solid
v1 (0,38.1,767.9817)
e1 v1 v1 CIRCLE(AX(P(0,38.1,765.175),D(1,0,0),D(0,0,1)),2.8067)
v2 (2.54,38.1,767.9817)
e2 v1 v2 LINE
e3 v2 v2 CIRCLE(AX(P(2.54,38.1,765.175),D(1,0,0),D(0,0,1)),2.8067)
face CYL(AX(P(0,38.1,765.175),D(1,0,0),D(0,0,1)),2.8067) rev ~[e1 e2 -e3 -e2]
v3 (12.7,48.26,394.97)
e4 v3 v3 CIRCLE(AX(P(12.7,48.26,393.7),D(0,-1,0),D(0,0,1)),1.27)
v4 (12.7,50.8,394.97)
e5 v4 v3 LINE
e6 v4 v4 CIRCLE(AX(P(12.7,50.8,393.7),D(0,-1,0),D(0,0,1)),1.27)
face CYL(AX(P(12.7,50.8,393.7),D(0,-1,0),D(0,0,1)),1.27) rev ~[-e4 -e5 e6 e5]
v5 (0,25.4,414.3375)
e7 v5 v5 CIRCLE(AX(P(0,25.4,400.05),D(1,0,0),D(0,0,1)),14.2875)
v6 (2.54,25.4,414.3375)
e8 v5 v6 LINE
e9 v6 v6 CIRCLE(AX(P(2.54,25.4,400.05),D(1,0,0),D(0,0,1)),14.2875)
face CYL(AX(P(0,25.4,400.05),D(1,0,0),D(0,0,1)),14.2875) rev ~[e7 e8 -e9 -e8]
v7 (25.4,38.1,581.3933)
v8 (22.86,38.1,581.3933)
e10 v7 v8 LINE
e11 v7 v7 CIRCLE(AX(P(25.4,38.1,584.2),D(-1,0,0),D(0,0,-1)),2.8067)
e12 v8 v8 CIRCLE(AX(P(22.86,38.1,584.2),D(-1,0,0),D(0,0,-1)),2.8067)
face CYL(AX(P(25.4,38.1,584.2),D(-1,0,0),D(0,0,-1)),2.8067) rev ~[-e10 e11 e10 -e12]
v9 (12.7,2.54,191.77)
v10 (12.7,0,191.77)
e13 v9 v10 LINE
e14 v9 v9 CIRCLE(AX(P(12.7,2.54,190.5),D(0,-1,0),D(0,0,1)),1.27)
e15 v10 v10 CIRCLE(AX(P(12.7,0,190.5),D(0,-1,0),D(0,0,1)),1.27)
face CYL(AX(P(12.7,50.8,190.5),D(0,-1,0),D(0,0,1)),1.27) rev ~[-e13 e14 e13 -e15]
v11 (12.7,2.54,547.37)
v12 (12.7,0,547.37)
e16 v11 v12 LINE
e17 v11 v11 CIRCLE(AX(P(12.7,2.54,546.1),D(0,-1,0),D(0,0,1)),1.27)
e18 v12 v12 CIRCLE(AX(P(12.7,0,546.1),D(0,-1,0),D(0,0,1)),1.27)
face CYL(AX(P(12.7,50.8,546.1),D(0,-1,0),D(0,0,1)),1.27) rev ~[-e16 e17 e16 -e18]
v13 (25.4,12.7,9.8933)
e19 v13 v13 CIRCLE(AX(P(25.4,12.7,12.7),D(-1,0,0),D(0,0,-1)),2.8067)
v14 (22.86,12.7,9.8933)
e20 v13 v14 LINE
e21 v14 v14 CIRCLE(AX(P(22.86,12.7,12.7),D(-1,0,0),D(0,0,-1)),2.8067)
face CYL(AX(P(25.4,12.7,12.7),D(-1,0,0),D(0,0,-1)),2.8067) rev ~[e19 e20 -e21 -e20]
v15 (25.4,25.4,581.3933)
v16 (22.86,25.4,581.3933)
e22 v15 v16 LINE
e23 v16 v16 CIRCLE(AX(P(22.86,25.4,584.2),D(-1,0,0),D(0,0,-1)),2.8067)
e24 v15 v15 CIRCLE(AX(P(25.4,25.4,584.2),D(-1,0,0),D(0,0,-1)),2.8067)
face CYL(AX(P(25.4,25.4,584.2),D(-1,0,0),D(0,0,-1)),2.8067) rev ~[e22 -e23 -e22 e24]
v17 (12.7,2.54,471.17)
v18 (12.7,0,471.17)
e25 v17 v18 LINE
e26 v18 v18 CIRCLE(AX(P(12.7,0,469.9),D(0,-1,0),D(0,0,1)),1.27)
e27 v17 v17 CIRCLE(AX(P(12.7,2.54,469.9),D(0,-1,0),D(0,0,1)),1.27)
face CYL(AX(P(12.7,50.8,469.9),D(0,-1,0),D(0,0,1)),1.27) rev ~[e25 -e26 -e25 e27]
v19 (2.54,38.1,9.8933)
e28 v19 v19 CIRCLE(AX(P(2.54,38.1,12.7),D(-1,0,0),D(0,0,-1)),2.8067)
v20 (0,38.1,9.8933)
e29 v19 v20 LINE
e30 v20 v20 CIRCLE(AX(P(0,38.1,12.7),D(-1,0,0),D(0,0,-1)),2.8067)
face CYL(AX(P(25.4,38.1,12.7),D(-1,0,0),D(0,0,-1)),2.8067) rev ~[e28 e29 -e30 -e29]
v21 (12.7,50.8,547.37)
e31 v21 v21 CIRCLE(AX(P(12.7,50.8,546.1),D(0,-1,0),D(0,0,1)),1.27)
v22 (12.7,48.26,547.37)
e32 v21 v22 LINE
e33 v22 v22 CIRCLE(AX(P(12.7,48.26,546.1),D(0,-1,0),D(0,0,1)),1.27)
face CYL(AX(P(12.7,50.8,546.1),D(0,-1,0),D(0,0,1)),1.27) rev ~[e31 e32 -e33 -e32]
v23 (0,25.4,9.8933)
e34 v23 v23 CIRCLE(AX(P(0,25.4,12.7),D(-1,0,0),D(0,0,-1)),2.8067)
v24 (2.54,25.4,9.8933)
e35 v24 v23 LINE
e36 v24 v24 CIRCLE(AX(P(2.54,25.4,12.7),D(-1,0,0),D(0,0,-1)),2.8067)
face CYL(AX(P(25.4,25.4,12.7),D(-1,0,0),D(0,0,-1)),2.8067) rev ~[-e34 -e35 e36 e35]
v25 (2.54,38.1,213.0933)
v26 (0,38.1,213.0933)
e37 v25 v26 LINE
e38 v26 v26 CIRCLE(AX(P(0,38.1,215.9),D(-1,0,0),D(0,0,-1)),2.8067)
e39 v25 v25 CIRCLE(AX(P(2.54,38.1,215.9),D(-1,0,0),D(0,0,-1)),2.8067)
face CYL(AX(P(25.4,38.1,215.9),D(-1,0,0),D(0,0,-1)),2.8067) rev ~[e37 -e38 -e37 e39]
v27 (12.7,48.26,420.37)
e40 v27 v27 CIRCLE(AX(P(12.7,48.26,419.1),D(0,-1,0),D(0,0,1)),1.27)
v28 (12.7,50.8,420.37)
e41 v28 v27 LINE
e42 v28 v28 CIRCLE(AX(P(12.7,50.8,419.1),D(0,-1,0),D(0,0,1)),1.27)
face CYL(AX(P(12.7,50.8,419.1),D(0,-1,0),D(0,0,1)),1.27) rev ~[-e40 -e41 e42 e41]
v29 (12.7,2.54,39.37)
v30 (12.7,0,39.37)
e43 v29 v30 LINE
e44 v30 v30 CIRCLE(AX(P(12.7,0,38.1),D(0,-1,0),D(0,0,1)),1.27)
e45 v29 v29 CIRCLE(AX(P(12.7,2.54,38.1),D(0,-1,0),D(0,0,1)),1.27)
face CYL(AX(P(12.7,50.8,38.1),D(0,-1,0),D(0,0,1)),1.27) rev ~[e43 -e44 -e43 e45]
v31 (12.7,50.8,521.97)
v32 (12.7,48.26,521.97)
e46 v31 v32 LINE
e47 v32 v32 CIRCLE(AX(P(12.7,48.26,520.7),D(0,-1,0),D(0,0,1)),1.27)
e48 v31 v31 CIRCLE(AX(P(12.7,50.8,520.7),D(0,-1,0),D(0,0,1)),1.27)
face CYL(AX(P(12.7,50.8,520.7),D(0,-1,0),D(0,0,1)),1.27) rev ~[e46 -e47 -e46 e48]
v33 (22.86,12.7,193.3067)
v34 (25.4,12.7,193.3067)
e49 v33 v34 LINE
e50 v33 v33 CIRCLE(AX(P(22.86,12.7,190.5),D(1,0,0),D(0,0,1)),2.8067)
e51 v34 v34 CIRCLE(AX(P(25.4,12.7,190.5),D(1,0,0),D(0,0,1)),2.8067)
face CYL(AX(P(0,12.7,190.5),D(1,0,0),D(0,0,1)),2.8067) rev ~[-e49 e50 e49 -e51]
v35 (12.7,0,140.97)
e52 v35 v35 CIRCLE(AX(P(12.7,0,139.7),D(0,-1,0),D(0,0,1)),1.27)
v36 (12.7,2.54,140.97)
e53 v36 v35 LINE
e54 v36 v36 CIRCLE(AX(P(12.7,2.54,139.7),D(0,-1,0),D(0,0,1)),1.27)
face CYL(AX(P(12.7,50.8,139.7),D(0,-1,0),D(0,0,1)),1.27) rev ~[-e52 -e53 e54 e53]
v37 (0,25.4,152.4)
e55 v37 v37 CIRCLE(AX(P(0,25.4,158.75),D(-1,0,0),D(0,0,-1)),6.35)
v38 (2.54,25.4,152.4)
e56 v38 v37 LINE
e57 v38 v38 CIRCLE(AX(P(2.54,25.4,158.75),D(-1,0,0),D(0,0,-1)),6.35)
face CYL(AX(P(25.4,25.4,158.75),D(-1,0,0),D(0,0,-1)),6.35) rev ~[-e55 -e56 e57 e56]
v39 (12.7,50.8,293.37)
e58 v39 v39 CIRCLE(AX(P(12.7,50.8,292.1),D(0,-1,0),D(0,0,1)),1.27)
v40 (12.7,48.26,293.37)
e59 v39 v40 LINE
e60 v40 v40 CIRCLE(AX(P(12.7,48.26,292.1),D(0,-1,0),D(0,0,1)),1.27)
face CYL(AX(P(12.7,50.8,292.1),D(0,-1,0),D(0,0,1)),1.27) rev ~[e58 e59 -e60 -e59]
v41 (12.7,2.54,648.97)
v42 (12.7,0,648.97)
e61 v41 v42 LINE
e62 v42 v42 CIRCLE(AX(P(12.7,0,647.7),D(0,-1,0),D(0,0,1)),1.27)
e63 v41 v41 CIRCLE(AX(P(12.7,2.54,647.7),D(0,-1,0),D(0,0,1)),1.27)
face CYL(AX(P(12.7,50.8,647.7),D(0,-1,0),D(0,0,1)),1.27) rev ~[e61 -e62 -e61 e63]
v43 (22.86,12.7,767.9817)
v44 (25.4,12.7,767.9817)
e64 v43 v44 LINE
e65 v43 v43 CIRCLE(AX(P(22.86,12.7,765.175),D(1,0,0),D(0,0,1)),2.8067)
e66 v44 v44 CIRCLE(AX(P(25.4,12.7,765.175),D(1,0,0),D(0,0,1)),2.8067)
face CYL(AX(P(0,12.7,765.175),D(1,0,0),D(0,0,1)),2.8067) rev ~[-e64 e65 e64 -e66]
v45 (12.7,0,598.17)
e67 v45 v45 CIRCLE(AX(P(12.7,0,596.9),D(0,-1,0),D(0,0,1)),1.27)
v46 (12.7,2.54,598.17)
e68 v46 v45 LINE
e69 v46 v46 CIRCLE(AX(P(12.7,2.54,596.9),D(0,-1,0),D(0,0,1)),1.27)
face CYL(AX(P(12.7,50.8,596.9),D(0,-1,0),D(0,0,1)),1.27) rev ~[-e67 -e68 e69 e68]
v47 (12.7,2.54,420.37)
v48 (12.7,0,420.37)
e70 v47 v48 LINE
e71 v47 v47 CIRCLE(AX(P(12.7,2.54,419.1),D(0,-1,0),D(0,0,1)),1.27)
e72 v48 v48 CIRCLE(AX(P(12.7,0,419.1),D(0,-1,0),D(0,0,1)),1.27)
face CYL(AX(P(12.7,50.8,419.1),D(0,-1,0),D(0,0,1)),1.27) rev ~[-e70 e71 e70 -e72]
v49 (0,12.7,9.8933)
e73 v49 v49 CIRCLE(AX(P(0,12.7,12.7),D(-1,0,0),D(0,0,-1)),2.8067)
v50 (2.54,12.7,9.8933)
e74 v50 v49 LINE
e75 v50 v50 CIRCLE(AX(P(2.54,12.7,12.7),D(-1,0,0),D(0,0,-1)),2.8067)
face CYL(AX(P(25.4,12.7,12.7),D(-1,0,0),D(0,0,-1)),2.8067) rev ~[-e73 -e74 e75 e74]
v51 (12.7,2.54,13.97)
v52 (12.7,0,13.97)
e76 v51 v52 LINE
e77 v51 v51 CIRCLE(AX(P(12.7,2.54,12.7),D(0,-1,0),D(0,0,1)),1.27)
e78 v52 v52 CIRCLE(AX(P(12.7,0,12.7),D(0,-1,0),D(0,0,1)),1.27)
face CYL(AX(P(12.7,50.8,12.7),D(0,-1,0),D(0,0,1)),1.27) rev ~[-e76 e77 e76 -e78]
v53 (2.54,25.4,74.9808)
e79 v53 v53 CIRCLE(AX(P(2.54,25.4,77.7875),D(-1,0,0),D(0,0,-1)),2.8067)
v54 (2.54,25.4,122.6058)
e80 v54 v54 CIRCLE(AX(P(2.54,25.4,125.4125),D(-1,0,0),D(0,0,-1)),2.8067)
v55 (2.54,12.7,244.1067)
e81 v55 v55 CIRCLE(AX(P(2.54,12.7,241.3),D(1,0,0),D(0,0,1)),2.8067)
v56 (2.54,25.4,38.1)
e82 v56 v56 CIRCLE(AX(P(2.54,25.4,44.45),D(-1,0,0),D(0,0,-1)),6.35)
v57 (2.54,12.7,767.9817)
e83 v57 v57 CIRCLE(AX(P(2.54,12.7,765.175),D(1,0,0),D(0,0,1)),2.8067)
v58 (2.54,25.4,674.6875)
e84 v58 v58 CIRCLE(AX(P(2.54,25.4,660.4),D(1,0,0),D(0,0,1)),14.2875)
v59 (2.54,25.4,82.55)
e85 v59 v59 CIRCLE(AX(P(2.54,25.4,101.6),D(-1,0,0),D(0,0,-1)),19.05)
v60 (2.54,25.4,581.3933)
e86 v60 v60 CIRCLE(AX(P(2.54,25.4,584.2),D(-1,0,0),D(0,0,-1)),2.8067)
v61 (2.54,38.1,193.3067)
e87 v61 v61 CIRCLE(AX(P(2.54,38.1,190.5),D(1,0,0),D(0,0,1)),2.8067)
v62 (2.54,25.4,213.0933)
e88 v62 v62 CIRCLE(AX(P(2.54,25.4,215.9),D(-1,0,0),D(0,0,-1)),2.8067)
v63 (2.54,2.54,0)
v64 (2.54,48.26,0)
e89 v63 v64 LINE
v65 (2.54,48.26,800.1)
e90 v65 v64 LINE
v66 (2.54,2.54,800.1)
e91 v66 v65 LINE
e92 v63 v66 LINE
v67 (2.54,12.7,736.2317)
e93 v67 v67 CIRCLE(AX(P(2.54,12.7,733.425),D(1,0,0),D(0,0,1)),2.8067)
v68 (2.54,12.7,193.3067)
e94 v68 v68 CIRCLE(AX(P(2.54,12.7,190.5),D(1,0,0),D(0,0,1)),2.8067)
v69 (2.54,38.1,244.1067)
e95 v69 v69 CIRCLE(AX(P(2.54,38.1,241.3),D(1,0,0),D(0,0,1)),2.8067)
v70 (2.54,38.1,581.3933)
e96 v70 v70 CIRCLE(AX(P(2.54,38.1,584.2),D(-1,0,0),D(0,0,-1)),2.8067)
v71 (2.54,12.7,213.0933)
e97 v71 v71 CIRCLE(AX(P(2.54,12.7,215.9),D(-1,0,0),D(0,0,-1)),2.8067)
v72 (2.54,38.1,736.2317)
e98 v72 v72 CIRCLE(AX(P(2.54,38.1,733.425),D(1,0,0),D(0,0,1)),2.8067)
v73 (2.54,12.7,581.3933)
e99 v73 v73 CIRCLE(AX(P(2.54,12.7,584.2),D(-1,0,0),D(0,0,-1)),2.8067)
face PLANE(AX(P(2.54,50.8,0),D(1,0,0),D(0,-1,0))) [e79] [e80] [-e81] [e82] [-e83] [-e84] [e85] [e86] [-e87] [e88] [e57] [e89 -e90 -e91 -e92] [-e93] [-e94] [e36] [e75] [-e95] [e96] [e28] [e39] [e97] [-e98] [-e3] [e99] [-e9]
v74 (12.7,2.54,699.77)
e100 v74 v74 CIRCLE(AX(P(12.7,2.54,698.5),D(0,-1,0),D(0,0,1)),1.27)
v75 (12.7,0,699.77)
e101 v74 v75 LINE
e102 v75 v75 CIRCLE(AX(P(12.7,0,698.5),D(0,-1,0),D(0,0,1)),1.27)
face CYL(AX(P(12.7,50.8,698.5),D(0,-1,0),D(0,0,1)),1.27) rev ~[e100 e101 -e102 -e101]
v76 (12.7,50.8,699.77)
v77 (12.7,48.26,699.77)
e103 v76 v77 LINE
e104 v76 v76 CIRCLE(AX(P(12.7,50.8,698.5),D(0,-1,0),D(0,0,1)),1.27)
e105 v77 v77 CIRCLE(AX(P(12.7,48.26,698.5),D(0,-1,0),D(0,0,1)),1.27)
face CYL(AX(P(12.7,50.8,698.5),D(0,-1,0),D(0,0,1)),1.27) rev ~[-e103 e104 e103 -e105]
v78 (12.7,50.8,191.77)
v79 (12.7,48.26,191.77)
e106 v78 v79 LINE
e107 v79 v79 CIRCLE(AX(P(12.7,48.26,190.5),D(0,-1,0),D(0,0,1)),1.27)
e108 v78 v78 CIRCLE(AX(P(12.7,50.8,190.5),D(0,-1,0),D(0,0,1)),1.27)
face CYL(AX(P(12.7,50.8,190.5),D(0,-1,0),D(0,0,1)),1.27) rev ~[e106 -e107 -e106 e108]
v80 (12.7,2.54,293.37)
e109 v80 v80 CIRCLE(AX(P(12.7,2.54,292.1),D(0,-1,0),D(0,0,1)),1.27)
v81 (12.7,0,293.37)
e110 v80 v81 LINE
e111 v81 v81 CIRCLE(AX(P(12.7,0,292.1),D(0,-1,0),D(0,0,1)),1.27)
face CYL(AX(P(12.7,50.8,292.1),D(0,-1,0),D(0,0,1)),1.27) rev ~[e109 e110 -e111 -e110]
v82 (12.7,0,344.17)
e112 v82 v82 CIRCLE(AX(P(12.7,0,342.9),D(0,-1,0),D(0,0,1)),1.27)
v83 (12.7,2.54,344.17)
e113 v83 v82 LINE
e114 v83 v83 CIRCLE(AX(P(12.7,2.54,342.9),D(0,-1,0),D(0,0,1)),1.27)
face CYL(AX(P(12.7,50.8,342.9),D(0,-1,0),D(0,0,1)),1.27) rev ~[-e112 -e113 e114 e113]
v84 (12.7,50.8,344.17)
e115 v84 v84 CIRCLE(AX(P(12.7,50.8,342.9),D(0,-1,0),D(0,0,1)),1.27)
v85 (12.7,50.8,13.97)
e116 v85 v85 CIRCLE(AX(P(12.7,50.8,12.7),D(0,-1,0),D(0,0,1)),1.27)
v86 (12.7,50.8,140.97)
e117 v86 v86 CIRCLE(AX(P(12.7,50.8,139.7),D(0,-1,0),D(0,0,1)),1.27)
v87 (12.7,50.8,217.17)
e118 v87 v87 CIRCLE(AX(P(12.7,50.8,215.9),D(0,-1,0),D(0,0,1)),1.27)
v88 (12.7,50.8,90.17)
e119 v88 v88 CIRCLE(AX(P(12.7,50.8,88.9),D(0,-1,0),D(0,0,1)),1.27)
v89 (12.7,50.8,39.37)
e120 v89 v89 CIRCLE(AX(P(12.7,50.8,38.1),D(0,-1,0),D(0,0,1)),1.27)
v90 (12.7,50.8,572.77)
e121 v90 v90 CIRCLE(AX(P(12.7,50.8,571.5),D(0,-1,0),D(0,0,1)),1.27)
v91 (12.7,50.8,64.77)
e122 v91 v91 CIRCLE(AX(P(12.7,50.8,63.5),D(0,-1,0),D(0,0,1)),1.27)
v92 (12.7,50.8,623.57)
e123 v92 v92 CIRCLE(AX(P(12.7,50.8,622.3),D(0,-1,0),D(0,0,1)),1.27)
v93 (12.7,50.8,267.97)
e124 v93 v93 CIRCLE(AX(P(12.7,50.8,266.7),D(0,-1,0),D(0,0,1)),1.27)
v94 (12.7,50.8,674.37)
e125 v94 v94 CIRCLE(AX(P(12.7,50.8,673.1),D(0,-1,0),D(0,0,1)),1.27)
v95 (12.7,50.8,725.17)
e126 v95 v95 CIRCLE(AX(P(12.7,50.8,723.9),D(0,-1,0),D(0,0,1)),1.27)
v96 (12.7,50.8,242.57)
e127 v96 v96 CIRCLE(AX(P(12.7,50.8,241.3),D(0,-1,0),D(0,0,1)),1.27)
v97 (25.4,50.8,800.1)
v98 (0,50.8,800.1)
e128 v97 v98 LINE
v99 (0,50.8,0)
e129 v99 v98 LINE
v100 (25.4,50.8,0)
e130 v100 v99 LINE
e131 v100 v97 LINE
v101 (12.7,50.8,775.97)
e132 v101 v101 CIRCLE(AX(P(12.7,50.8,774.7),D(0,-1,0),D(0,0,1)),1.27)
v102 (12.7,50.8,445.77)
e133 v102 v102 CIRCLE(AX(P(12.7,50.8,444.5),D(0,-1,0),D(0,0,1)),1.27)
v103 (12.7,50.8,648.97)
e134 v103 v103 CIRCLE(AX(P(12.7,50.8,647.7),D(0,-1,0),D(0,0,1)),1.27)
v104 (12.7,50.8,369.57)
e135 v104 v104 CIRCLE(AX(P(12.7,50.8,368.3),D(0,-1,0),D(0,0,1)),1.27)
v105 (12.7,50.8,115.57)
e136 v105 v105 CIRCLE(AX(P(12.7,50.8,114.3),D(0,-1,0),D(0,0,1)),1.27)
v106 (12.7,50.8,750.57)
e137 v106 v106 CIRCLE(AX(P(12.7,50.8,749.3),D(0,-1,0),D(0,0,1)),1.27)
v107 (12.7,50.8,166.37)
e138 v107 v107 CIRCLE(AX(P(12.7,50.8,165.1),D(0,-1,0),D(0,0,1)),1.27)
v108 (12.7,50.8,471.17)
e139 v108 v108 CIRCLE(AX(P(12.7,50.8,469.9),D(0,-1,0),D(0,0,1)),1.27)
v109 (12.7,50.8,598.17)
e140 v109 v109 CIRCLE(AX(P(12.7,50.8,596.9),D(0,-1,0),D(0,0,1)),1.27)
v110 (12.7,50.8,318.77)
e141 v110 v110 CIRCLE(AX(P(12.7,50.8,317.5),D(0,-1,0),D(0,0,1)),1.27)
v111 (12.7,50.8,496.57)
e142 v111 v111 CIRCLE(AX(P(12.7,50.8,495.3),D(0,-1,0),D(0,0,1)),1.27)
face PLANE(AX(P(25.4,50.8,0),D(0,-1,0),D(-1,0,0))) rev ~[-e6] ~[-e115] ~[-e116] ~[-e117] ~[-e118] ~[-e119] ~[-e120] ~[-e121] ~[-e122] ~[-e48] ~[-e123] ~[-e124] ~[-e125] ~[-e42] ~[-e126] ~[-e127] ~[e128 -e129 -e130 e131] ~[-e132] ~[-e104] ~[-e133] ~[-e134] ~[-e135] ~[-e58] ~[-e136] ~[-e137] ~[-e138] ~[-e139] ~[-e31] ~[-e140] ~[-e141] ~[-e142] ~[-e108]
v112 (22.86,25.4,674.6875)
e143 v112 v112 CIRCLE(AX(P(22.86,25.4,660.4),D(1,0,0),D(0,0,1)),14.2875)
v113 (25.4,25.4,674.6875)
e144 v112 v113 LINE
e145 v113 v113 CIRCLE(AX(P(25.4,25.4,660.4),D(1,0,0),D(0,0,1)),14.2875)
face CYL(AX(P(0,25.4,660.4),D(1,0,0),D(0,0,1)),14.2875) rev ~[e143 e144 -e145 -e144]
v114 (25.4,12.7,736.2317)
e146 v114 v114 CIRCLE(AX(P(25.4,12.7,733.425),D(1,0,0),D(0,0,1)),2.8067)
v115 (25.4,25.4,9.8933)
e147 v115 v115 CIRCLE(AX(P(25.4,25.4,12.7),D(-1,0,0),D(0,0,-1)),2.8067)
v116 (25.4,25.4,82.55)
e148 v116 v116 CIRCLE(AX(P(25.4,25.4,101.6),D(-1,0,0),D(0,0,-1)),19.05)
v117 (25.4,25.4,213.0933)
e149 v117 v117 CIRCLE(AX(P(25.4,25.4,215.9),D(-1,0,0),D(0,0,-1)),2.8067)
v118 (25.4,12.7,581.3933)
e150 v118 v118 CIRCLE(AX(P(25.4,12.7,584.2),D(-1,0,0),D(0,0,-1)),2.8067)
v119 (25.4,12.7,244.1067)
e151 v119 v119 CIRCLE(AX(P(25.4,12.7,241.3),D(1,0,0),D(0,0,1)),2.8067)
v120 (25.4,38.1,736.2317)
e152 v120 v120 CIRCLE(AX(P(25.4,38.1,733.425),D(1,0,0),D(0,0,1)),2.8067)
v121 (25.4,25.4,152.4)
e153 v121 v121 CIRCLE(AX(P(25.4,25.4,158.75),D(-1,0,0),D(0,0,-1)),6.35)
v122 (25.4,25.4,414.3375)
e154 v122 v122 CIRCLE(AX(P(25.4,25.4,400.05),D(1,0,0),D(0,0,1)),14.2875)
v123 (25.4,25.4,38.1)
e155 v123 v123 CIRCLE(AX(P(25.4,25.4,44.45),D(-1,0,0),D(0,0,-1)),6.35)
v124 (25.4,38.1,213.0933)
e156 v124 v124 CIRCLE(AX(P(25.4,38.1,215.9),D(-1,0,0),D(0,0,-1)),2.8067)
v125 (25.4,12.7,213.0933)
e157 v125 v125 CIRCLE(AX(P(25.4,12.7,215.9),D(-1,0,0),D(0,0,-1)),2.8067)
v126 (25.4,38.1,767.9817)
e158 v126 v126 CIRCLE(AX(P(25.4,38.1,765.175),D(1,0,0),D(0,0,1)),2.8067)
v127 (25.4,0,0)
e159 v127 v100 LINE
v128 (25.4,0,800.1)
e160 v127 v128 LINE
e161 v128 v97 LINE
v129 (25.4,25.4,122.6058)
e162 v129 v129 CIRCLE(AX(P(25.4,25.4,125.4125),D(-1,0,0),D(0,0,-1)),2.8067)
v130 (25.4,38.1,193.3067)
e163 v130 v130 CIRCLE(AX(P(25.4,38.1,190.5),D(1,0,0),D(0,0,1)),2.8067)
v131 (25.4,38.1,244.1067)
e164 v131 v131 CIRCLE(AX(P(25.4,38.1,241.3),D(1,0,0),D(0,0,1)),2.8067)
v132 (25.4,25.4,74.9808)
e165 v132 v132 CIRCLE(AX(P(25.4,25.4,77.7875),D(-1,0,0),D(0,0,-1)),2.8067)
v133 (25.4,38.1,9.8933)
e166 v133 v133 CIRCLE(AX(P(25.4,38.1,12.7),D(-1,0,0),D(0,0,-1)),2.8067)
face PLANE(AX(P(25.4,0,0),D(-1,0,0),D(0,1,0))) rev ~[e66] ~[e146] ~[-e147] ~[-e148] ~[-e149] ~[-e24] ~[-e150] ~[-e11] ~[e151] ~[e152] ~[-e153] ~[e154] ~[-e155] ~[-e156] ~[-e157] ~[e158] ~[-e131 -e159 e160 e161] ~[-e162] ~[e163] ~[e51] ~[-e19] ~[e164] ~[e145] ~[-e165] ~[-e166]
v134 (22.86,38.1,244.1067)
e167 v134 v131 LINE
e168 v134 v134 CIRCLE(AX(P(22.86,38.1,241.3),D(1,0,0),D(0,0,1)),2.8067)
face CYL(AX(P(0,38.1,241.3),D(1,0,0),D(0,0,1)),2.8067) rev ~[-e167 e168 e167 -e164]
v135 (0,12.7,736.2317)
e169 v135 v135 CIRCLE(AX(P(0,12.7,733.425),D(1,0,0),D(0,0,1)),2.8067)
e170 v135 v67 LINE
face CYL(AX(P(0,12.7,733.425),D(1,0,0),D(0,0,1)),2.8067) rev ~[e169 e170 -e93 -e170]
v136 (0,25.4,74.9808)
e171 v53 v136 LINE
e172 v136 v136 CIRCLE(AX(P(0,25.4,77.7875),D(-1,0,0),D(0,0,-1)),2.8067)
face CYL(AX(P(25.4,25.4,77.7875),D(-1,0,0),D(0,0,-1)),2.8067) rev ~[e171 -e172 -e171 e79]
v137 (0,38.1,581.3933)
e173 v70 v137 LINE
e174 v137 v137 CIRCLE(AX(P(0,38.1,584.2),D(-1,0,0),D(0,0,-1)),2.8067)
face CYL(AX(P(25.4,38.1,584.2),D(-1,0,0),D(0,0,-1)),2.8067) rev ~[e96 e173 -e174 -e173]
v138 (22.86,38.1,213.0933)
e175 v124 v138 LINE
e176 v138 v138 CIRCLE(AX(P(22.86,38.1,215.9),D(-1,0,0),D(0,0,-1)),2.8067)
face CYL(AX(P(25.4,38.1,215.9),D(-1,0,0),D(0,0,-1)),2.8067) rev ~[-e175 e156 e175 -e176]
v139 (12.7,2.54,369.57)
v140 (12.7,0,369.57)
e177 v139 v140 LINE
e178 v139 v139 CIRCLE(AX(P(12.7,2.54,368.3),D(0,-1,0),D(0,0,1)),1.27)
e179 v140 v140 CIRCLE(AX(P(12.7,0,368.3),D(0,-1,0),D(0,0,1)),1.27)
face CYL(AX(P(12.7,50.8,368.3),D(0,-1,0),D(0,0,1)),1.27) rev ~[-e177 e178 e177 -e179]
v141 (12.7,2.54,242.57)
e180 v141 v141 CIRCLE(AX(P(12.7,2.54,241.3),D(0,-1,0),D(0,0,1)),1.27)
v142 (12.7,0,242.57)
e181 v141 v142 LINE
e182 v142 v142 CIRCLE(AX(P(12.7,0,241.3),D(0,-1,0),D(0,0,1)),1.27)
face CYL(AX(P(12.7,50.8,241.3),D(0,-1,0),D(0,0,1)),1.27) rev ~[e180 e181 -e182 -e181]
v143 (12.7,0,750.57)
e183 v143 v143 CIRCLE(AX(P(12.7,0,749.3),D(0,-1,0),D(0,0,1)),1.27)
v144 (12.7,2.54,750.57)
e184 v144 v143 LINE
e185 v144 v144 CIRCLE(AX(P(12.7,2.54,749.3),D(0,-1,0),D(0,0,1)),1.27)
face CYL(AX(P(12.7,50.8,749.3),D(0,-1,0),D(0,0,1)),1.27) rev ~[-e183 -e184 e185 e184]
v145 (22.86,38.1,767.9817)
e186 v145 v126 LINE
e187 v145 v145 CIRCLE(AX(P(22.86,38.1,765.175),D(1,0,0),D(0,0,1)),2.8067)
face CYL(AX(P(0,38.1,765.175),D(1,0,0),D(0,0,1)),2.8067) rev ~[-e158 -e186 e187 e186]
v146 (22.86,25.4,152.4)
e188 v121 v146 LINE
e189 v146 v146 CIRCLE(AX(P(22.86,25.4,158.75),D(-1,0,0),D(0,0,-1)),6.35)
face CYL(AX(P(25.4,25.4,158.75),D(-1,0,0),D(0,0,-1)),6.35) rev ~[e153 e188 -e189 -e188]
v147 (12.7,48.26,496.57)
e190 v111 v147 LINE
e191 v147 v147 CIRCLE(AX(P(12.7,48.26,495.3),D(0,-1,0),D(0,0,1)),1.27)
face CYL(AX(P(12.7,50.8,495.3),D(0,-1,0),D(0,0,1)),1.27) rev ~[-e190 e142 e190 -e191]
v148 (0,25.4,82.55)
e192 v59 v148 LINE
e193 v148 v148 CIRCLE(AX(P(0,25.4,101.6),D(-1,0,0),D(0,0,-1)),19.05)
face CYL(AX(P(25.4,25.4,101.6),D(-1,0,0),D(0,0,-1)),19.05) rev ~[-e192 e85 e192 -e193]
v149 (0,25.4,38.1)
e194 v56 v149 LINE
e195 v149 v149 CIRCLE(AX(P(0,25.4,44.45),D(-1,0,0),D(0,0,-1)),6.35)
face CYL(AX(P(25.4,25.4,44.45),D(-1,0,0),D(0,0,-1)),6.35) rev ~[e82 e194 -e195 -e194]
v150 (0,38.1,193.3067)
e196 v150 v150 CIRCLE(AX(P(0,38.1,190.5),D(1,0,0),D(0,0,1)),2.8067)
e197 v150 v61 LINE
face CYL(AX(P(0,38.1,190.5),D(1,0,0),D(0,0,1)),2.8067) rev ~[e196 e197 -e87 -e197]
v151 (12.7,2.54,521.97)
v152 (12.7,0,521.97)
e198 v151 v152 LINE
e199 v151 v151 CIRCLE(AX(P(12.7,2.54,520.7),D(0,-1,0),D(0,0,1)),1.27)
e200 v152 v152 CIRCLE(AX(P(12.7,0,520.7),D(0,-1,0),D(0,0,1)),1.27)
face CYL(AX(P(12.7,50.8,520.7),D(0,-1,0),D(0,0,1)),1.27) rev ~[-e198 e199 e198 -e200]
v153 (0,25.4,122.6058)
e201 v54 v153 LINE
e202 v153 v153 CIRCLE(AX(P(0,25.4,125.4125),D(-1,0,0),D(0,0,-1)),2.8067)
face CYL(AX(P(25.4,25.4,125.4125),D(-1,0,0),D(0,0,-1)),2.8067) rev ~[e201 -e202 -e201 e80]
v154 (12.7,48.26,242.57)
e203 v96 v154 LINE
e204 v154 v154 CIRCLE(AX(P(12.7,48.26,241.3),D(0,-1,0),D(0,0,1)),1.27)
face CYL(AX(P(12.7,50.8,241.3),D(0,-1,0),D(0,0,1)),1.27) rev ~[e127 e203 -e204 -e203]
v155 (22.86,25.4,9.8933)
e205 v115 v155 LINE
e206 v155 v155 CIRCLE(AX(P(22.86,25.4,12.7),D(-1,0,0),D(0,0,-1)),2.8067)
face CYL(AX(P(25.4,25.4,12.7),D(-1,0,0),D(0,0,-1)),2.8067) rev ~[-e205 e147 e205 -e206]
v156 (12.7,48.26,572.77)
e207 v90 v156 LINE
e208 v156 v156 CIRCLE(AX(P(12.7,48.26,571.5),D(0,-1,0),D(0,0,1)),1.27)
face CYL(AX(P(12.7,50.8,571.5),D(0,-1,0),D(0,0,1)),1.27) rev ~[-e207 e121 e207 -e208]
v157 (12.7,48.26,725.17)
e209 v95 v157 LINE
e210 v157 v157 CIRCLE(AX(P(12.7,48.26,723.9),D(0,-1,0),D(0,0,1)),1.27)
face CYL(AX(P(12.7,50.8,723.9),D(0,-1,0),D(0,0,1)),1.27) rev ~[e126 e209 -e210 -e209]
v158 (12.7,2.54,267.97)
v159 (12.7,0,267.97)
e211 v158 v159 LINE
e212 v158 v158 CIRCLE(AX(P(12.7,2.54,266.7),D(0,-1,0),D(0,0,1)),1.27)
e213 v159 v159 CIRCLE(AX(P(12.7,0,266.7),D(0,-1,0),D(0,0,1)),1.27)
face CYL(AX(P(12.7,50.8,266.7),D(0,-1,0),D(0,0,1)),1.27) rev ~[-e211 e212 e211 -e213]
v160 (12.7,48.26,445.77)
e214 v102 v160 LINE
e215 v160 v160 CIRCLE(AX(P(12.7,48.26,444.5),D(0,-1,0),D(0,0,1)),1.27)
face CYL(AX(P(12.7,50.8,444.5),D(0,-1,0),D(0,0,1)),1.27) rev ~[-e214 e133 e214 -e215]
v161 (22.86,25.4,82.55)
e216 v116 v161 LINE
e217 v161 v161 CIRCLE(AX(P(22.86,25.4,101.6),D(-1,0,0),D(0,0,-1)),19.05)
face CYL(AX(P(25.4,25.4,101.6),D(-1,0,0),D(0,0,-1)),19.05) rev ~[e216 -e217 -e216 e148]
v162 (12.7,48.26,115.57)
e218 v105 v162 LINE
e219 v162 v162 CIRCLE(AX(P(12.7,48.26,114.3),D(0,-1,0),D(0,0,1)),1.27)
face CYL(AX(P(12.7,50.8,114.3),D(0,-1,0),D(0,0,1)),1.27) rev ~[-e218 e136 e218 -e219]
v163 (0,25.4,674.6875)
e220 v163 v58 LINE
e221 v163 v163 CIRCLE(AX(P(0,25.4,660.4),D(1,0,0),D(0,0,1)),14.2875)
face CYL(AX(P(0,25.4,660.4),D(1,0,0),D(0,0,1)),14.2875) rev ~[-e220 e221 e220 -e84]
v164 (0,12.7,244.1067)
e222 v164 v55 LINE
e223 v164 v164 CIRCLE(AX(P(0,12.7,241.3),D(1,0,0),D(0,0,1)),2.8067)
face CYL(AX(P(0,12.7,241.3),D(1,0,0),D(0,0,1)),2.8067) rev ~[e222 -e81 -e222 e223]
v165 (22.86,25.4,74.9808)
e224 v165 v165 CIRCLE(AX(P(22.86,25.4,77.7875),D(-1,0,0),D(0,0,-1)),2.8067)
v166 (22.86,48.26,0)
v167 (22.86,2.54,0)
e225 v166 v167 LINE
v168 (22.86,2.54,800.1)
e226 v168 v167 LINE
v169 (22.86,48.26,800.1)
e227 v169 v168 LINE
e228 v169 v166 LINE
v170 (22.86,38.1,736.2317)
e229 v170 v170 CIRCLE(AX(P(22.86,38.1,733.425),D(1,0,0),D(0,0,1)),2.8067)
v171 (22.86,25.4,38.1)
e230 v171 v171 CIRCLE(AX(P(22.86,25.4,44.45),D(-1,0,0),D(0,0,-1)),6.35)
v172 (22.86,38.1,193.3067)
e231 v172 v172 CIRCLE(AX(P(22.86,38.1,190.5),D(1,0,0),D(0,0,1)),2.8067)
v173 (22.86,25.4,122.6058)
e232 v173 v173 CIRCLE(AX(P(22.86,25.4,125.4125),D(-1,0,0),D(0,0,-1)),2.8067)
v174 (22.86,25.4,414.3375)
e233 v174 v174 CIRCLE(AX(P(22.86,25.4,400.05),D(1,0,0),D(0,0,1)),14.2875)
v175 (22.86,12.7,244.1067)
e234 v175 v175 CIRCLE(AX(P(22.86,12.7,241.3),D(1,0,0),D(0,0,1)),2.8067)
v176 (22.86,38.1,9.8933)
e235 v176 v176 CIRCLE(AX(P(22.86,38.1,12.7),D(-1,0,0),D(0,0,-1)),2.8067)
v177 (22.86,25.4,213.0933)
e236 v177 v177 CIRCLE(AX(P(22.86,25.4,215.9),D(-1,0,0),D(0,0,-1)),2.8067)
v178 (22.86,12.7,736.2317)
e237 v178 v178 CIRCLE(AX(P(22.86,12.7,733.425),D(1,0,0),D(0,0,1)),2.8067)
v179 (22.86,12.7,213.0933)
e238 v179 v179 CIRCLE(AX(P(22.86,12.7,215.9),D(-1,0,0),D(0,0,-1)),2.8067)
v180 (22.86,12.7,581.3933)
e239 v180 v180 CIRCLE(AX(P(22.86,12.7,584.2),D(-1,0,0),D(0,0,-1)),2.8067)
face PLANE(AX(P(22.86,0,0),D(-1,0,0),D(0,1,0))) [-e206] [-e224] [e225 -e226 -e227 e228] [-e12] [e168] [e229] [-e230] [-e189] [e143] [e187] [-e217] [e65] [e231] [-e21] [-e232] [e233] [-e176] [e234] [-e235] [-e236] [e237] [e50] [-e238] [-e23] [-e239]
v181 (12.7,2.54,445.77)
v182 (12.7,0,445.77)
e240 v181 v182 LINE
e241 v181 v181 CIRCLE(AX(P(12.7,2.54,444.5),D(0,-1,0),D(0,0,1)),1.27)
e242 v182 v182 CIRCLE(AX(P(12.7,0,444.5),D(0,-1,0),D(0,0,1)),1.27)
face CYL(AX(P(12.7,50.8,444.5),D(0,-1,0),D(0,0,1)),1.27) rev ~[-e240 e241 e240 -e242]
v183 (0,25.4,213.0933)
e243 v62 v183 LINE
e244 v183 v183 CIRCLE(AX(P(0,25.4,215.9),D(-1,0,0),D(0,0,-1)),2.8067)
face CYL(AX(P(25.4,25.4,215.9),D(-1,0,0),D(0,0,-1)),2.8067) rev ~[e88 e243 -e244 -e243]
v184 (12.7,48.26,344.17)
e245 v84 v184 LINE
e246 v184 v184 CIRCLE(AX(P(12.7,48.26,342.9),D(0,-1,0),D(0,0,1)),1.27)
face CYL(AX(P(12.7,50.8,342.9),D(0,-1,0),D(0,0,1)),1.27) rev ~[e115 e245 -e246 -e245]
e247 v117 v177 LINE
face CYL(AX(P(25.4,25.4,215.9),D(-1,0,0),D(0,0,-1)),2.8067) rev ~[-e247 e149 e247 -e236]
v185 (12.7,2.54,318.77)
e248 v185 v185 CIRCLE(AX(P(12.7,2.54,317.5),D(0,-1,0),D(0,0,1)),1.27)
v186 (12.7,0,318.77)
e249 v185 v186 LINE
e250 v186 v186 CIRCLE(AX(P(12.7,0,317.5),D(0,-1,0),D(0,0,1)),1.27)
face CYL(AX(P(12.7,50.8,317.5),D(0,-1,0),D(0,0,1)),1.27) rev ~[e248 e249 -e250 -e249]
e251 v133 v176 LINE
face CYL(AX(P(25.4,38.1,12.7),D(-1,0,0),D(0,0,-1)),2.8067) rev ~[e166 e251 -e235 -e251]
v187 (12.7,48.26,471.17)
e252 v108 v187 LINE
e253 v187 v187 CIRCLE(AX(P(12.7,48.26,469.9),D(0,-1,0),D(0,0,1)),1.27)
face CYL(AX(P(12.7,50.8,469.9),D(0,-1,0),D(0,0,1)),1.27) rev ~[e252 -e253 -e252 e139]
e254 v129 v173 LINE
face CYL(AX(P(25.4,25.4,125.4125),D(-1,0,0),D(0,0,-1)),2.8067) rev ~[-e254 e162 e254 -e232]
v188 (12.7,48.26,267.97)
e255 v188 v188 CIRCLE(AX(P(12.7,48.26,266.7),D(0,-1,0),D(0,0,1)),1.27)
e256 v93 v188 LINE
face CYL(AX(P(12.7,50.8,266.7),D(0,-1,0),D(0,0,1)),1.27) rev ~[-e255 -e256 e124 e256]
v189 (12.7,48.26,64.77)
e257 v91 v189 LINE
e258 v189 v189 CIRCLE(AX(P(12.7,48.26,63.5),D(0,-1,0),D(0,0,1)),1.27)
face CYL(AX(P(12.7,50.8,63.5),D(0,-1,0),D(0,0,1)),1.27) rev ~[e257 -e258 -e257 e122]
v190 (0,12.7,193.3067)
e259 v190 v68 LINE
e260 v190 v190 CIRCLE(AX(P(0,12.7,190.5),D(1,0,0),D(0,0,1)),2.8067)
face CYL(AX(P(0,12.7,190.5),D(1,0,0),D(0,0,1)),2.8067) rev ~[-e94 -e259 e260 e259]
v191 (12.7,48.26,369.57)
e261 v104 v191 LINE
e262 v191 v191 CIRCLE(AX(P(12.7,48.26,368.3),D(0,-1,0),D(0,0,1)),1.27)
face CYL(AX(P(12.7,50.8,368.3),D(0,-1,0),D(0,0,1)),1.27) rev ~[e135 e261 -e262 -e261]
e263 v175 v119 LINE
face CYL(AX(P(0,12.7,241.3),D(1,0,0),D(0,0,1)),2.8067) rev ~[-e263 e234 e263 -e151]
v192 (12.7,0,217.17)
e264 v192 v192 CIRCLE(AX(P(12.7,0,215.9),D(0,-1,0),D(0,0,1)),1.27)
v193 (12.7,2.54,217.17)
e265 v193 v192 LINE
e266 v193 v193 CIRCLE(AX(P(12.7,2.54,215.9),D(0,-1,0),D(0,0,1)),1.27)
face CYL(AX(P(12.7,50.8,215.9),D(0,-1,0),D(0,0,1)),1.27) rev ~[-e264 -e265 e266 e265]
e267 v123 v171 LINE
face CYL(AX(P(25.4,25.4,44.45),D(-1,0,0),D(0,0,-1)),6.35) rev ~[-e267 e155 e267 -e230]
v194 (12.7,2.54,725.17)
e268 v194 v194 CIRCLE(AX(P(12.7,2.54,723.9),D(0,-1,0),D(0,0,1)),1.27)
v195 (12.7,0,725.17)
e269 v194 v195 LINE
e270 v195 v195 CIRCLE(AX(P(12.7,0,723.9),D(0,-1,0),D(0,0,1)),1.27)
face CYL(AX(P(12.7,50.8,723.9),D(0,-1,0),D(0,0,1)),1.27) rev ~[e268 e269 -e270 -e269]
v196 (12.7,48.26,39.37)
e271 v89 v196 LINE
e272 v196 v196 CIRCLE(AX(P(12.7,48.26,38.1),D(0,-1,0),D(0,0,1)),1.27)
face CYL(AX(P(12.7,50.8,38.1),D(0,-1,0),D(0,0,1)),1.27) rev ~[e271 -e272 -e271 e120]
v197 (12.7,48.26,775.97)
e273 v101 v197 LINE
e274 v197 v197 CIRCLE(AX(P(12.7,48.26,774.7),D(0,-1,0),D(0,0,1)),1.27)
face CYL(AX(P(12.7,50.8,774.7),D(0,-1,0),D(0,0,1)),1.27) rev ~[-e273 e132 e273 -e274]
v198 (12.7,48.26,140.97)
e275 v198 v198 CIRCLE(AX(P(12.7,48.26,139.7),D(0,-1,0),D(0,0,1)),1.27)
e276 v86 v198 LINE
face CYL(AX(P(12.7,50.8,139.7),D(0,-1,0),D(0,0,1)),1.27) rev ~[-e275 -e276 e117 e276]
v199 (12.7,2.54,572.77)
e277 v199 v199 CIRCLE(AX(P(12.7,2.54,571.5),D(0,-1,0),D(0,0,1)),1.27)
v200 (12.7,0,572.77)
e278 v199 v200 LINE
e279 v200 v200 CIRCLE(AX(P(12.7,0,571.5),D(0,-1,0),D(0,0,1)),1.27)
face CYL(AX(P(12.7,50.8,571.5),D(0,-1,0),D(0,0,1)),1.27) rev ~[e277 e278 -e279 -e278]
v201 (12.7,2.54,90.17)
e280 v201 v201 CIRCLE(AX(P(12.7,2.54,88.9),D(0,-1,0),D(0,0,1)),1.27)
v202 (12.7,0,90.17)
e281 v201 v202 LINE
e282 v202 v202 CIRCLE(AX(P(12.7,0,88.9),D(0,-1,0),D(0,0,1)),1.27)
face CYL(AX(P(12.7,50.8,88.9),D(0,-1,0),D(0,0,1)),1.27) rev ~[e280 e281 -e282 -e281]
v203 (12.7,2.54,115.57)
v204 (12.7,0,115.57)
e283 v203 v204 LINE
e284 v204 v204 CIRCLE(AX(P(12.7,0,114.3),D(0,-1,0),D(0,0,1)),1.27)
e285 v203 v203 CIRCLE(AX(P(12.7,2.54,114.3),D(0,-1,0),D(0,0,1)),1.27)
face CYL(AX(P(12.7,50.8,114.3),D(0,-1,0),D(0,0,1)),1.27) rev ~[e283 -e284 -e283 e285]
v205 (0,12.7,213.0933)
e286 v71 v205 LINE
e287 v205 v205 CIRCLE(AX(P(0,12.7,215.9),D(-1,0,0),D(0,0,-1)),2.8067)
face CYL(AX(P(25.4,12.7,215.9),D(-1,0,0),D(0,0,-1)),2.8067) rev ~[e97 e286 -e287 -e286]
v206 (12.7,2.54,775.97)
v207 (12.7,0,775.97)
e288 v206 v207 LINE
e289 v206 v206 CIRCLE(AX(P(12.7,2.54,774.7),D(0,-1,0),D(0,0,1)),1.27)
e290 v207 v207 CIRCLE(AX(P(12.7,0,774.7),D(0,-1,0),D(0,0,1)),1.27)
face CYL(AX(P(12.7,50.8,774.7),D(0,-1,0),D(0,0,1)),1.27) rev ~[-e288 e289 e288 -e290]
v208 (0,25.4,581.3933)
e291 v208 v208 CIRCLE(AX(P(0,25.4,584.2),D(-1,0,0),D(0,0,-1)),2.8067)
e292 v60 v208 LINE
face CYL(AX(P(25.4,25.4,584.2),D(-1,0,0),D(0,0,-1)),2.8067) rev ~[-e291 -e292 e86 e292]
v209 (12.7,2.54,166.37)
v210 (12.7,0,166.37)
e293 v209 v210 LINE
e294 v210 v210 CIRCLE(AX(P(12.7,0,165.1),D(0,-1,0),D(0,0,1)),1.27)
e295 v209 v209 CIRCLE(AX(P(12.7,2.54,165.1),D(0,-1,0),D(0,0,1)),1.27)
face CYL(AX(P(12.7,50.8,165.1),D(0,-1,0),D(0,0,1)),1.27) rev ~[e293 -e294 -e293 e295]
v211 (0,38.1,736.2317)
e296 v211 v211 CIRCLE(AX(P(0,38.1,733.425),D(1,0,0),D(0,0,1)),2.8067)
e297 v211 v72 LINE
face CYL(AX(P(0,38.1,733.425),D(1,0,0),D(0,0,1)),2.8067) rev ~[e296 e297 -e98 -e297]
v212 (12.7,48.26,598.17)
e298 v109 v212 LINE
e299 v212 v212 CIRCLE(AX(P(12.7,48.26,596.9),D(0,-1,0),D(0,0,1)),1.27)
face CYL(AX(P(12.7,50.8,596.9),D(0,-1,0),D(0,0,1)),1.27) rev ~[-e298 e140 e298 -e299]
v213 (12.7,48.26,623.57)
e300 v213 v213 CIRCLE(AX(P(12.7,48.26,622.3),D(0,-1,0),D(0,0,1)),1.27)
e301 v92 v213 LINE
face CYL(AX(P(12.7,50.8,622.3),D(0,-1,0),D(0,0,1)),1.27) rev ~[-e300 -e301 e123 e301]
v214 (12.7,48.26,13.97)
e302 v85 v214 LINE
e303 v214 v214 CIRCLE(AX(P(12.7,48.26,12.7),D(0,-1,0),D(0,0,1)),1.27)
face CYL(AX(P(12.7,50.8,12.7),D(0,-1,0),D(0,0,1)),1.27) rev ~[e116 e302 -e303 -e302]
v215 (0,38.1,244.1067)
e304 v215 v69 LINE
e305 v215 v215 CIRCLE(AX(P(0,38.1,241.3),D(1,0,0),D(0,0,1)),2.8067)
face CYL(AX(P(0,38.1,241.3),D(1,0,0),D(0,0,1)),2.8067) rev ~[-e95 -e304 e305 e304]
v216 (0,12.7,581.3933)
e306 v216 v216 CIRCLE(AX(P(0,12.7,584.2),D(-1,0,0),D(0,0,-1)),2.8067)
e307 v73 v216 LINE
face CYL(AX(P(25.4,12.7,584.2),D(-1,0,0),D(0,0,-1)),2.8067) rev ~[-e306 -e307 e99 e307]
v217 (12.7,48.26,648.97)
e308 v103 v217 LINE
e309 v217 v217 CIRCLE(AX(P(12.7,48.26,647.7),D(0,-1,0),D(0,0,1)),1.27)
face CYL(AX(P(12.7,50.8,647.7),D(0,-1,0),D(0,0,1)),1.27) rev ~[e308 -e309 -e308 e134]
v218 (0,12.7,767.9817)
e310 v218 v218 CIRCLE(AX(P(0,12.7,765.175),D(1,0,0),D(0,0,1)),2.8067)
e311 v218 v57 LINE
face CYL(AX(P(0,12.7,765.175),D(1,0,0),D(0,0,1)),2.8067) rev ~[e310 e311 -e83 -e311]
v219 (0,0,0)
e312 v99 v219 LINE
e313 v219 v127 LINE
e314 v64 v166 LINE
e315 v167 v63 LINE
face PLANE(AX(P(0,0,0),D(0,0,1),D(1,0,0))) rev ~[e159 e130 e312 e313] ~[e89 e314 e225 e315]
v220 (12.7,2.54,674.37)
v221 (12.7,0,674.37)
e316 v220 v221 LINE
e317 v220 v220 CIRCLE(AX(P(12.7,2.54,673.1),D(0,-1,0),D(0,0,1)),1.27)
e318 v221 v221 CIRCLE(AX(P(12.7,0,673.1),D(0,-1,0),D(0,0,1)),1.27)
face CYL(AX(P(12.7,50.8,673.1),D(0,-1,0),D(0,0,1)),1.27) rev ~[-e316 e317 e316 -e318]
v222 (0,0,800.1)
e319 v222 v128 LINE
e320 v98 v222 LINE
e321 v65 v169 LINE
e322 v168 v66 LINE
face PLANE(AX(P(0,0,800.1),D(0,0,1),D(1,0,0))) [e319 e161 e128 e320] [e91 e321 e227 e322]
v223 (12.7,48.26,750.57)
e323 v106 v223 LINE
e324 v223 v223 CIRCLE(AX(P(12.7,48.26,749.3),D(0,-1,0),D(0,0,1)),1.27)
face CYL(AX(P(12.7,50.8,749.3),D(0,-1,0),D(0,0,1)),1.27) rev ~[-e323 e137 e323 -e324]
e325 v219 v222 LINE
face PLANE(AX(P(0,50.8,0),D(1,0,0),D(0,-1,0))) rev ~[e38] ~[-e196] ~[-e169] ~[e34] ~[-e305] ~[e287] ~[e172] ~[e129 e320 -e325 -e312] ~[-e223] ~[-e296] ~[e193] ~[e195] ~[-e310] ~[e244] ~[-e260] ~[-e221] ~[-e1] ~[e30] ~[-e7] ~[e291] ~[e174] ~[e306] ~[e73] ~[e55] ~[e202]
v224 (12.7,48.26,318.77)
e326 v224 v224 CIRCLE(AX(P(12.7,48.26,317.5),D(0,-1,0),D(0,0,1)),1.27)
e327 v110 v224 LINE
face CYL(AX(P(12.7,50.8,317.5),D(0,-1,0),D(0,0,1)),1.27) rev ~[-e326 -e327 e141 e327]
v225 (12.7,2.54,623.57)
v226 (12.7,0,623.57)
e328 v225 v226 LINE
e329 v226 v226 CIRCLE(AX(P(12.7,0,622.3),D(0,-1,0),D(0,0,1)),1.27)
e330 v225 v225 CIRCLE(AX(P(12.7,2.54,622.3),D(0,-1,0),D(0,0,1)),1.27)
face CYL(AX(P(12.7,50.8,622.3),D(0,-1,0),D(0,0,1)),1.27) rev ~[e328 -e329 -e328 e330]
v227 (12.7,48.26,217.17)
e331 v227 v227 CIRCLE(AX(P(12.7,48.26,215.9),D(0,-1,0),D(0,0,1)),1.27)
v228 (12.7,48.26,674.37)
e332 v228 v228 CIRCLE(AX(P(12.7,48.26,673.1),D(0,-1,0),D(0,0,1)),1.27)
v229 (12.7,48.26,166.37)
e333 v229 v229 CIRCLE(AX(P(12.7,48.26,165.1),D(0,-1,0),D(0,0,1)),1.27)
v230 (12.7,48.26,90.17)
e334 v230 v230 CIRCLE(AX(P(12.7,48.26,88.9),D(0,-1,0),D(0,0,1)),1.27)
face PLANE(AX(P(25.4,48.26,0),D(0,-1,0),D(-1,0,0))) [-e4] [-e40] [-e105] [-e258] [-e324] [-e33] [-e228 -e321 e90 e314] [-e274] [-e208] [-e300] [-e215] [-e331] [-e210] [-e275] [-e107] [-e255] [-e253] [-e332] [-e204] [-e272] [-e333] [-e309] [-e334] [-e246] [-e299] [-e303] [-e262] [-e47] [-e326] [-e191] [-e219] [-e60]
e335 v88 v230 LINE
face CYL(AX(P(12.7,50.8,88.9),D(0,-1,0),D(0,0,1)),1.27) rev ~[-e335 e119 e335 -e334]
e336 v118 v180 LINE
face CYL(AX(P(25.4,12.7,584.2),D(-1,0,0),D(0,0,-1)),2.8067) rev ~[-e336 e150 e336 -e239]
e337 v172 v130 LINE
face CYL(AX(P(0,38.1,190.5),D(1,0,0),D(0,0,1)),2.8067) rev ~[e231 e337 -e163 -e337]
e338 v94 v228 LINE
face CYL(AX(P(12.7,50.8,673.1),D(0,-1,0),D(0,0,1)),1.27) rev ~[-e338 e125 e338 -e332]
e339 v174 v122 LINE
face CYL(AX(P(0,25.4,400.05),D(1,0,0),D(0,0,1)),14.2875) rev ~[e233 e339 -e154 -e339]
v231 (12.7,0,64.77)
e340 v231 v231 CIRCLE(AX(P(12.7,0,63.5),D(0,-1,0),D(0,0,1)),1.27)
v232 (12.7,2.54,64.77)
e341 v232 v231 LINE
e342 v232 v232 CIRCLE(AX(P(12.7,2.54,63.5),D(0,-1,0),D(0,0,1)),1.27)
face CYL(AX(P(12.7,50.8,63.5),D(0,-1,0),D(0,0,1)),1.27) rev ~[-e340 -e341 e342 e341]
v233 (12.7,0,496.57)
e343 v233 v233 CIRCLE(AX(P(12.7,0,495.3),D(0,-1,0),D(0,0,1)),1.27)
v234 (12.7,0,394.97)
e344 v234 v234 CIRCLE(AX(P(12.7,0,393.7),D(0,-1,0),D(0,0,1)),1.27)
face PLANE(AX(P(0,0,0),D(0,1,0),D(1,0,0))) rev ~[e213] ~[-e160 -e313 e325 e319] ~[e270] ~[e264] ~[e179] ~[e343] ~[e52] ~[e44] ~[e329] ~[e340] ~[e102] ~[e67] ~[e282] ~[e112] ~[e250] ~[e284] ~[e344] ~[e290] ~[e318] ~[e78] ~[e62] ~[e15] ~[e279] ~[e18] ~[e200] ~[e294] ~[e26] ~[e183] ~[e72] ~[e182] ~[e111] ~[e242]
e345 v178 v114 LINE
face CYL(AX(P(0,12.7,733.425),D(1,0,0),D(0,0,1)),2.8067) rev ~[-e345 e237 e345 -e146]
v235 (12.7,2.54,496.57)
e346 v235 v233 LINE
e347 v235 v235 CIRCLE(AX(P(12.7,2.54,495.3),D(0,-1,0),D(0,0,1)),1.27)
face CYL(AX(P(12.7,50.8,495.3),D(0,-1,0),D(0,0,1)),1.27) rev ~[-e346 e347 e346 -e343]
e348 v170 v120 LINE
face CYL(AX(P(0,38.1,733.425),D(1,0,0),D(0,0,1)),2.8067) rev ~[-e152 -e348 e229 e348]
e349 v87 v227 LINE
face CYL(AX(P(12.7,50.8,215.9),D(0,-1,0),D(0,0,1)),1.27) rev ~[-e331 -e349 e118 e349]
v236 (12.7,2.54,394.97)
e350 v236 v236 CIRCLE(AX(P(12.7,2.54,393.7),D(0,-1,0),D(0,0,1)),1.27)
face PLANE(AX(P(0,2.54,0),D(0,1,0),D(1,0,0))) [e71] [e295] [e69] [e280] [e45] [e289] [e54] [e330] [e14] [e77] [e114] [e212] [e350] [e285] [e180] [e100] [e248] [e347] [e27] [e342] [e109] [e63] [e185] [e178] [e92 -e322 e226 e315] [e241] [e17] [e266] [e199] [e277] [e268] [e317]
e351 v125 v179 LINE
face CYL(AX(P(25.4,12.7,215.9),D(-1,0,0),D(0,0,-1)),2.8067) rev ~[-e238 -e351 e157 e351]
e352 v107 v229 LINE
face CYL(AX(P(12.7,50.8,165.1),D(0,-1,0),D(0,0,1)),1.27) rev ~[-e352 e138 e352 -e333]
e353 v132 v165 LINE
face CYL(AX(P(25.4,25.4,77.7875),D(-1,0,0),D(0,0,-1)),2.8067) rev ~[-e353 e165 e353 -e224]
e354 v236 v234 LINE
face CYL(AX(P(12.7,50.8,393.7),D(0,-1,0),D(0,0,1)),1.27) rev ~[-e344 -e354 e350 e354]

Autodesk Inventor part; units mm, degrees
ref_plane "YZ Plane" through (0, 0, 0) normal (1, 0, 0) x (0, 1, 0)
ref_plane "XZ Plane" through (0, 0, 0) normal (0, 1, 0) x (-1, 0, 0)
ref_plane "XY Plane" through (0, 0, 0) normal (0, 0, 1) x (1, 0, 0)
sketch "Sketch1" plane through (0, 0, 0) normal (0, 0, 1) x (1, 0, 0)
  line L0 (0, 0) -> (25.4, 0)
  line L1 (25.4, 0) -> (25.4, 50.8)
  line L2 (25.4, 50.8) -> (0, 50.8)
  line L3 (0, 50.8) -> (0, 0)
  dimension "d0" = 25.4
  dimension "d1" = 50.8
extrude "Extrusion1" add sketch "Sketch1" along normal blind 800.1
shell "Shell1" thickness 2.54 removed faces 2 at (8.4667, 33.8667, 0) at (8.4667, 33.8667, 800.1)
sketch "Sketch2" plane through (0, 50.8, 0) normal (0, 1, 0) x (1, 0, 0)
  line L0 (25.4, 0) -> (0, 0) projected
  line L1 (0, 0) -> (0, -800.1) projected
  point P0 (12.7, -12.7)
  point P1 (12.7, -38.1)
  point P2 (12.7, -63.5)
  point P3 (12.7, -88.9)
  point P4 (12.7, -114.3)
  point P5 (12.7, -139.7)
  point P6 (12.7, -165.1)
  point P7 (12.7, -190.5)
  point P8 (12.7, -215.9)
  point P9 (12.7, -241.3)
  point P10 (12.7, -266.7)
  point P11 (12.7, -292.1)
  point P12 (12.7, -317.5)
  point P13 (12.7, -342.9)
  point P14 (12.7, -368.3)
  point P15 (12.7, -393.7)
  point P16 (12.7, -419.1)
  point P17 (12.7, -444.5)
  point P18 (12.7, -469.9)
  point P19 (12.7, -495.3)
  point P20 (12.7, -520.7)
  point P21 (12.7, -546.1)
  point P22 (12.7, -571.5)
  point P23 (12.7, -596.9)
  point P24 (12.7, -622.3)
  point P25 (12.7, -647.7)
  point P26 (12.7, -673.1)
  point P27 (12.7, -698.5)
  point P28 (12.7, -723.9)
  point P29 (12.7, -749.3)
  point P30 (12.7, -774.7)
  dimension "d5" = 12.7
  dimension "d6" = 12.7
  dimension "d9" = 25.4
hole "Hole1" at (12.7, 50.8, 12.7) at (12.7, 50.8, 38.1) at (12.7, 50.8, 63.5) at (12.7, 50.8, 88.9) at (12.7, 50.8, 114.3) at (12.7, 50.8, 139.7) at (12.7, 50.8, 165.1) at (12.7, 50.8, 190.5) at (12.7, 50.8, 215.9) at (12.7, 50.8, 241.3) at (12.7, 50.8, 266.7) at (12.7, 50.8, 292.1) at (12.7, 50.8, 317.5) at (12.7, 50.8, 342.9) at (12.7, 50.8, 368.3) at (12.7, 50.8, 393.7) at (12.7, 50.8, 419.1) at (12.7, 50.8, 444.5) at (12.7, 50.8, 469.9) at (12.7, 50.8, 495.3) at (12.7, 50.8, 520.7) at (12.7, 50.8, 546.1) at (12.7, 50.8, 571.5) at (12.7, 50.8, 596.9) at (12.7, 50.8, 622.3) at (12.7, 50.8, 647.7) at (12.7, 50.8, 673.1) at (12.7, 50.8, 698.5) at (12.7, 50.8, 723.9) at (12.7, 50.8, 749.3) at (12.7, 50.8, 774.7) direction (0, -1, 0) diameter 2.54 depth 50.8 tip angle 118
sketch "Sketch3" plane through (25.4, 0, 0) normal (1, 0, 0) x (0, 0, -1)
  line L0 (0, 0) -> (0, 50.8) projected
  line L1 (0, 50.8) -> (-800.1, 50.8) projected
  point P0 (-101.6, 25.4)
  dimension "d21" = 101.6
  dimension "d22" = 25.4
hole "Hole2" at (25.4, 25.4, 101.6) direction (-1, 0, 0) diameter 38.1 depth 25.4 tip angle 118
sketch "Sketch4" plane through (25.4, 0, 0) normal (1, 0, 0) x (0, 0, -1)
  circle A0 centre (-101.6, 25.4) radius 19.05 projected
  line L0 (0, 0) -> (0, 50.8) projected
  line L1 (0, 50.8) -> (-800.1, 50.8) projected
  line L2 (-800.1, 0) -> (-800.1, 50.8) projected
  line L3 (0, 0) -> (-800.1, 0) projected
  point P0 (0, 0)
  point P1 (-125.4125, 25.4)
  point P2 (-77.7875, 25.4)
  dimension "d30" = 23.8125
  dimension "d31" = 23.8125
  dimension "d32" = 25.4
  dimension "d33" = 25.4
hole "Hole3" at (25.4, 25.4, 125.4125) at (25.4, 25.4, 77.7875) direction (-1, 0, 0) diameter 5.6134 depth 25.4 tip angle 118 clearance for "Flat Head Machine Screw (82)" size "#10" standard "Ansi Unified Screw Threads"
sketch "Sketch5" plane through (25.4, 0, 0) normal (1, 0, 0) x (0, 0, -1)
  circle A0 centre (-44.45, 25.4) radius 8.0391 projected
  circle A1 centre (-158.75, 25.4) radius 9.5885 projected
  point P0 (0, 0)
  point P1 (26.2069, 26.9781)
hole "Hole4" at (25.4, 25.4, 158.75) at (25.4, 25.4, 44.45) at (25.4, 26.9781, -26.2069) direction (-1, 0, 0) diameter 12.7 depth 25.4 tip angle 118
sketch "Sketch6" plane through (0, 0, 0) normal (-1, 0, 0) x (0, 0, 1)
  line L0 (0, 50.8) -> (800.1, 50.8) projected
  line L1 (0, 50.8) -> (0, 0) projected
  line L2 (800.1, 50.8) -> (800.1, 0) projected
  point P0 (400.05, 25.4)
  point P1 (660.4, 25.4)
  dimension "d48" = 25.4
  dimension "d49" = 25.4
  dimension "d50" = 400.05
  dimension "d51" = 400.05
  dimension "d52" = 139.7
hole "Hole5" at (0, 25.4, 400.05) at (0, 25.4, 660.4) direction (1, 0, 0) diameter 28.575 depth 25.4 tip angle 118
sketch "Sketch7" plane through (0, 0, 0) normal (-1, 0, 0) x (0, 0, 1)
  line L0 (723.9, 0) -> (723.9, 609.6)
  line L1 (774.7, 0) -> (774.7, 609.6)
  line L2 (0, 50.8) -> (800.1, 50.8) projected
  line L3 (0, 0) -> (800.1, 0) projected
  point P0 (733.425, 38.1)
  point P1 (765.175, 12.7)
  point P2 (733.425, 12.7)
  point P3 (765.175, 38.1)
  dimension "d60" = 9.525
  dimension "d61" = 9.525
  dimension "d62" = 12.7
  dimension "d63" = 12.7
  dimension "d64" = 12.7
  dimension "d65" = 12.7
  dimension "d66" = 9.525
  dimension "d67" = 9.525
hole "Hole6" at (0, 38.1, 733.425) at (0, 12.7, 765.175) at (0, 12.7, 733.425) at (0, 38.1, 765.175) direction (1, 0, 0) diameter 5.6134 depth 25.4 tip angle 118 clearance for "Flat Head Machine Screw (82)" size "#10" standard "Ansi Unified Screw Threads"
sketch "Sketch8" plane through (25.4, 0, 0) normal (1, 0, 0) x (0, 0, -1)
  line L0 (-596.9, 50.8) -> (-596.9, 0) projected
  line L1 (-571.5, 0) -> (-571.5, 50.8) projected
  line L2 (-228.6, 50.8) -> (-228.6, 0) projected
  line L3 (-203.2, 0) -> (-203.2, 50.8) projected
  line L4 (0, 2.54) -> (0, 48.26) projected
  line L5 (-25.4, 50.8) -> (-25.4, 0) projected
  line L6 (0, 0) -> (0, 50.8) projected
  line L7 (0, 0) -> (-800.1, 0) projected
  line L8 (0, 50.8) -> (-800.1, 50.8) projected
  point P0 (-584.2, 38.1)
  point P1 (-584.2, 12.7)
  point P2 (-215.9, 38.1)
  point P3 (-215.9, 12.7)
  point P4 (-12.7, 38.1)
  point P5 (-12.7, 12.7)
  dimension "d75" = 12.7
  dimension "d76" = 12.7
  dimension "d77" = 12.7
  dimension "d78" = 12.7
  dimension "d79" = 12.7
  dimension "d80" = 12.7
  dimension "d81" = 12.7
  dimension "d82" = 12.7
  dimension "d83" = 12.7
  dimension "d84" = 12.7
  dimension "d85" = 12.7
  dimension "d86" = 12.7
hole "Hole7" at (25.4, 38.1, 584.2) at (25.4, 12.7, 584.2) at (25.4, 38.1, 215.9) at (25.4, 12.7, 215.9) at (25.4, 38.1, 12.7) at (25.4, 12.7, 12.7) direction (-1, 0, 0) diameter 5.6134 depth 25.4 tip angle 118 clearance for "Flat Head Machine Screw (82)" size "#10" standard "Ansi Unified Screw Threads"
sketch "Sketch9" plane through (25.4, 0, 0) normal (1, 0, 0) x (0, 0, -1)
  line L0 (0, 2.54) -> (-800.1, 2.54) projected
  circle A0 centre (-12.7, 38.1) radius 2.8067 projected
  circle A1 centre (-215.9, 38.1) radius 2.8067 projected
  circle A2 centre (-584.2, 38.1) radius 2.8067 projected
  circle A3 centre (-584.2, 12.7) radius 2.8067 projected
  circle A4 centre (-215.9, 12.7) radius 2.8067 projected
  circle A5 centre (-12.7, 12.7) radius 2.8067 projected
  circle A6 centre (-733.425, 12.7) radius 2.8067 projected
  circle A7 centre (-733.425, 38.1) radius 2.8067 projected
  circle A8 centre (-765.175, 12.7) radius 2.8067 projected
  circle A9 centre (-765.175, 38.1) radius 2.8067 projected
  circle A10 centre (-400.05, 25.4) radius 14.2875 projected
  circle A11 centre (-660.4, 25.4) radius 14.2875 projected
  circle A12 centre (-44.45, 25.4) radius 6.35 projected
  circle A13 centre (-158.75, 25.4) radius 6.35 projected
  circle A14 centre (-125.4125, 25.4) radius 2.8067 projected
  circle A15 centre (-77.7875, 25.4) radius 2.8067 projected
  circle A16 centre (-101.6, 25.4) radius 19.05 projected
  line L1 (0, 0) -> (0, 50.8) projected
  line L2 (0, 50.8) -> (-800.1, 50.8) projected
  line L3 (-800.1, 0) -> (-800.1, 50.8) projected
  line L4 (0, 0) -> (-800.1, 0) projected
  point P0 (0, 0)
  point P1 (-584.2, 25.4)
  point P2 (-215.9, 25.4)
  point P3 (-12.7, 25.4)
hole "Hole8" at (25.4, 25.4, 584.2) at (25.4, 25.4, 215.9) at (25.4, 25.4, 12.7) direction (-1, 0, 0) diameter 5.6134 depth 25.4 tip angle 118 clearance for "Flat Head Machine Screw (82)" size "#10" standard "Ansi Unified Screw Threads"
sketch "Sketch10" plane through (0, 0, 0) normal (-1, 0, 0) x (0, 0, 1)
  line L0 (0, 50.8) -> (800.1, 50.8) projected
  line L1 (0, 0) -> (800.1, 0) projected
  circle A0 centre (215.9, 12.7) radius 2.8067 projected
  circle A1 centre (215.9, 38.1) radius 2.8067 projected
  point P0 (190.5, 38.1)
  point P1 (190.5, 12.7)
  dimension "d101" = 12.7
  dimension "d102" = 12.7
  dimension "d103" = 25.4
  dimension "d104" = 25.4
hole "Hole9" at (0, 38.1, 190.5) at (0, 12.7, 190.5) direction (1, 0, 0) diameter 5.6134 depth 25.4 tip angle 118 clearance for "Flat Head Machine Screw (82)" size "#10" standard "Ansi Unified Screw Threads"
sketch "Sketch11" plane through (0, 0, 0) normal (-1, 0, 0) x (0, 0, 1)
  circle A0 centre (241.3, 38.1) radius 1.27
  circle A1 centre (241.3, 12.7) radius 1.27
  point P0 (0, 0)
hole "Hole10" at (0, 38.1, 241.3) at (0, 12.7, 241.3) direction (1, 0, 0) diameter 5.6134 depth 25.4 tip angle 118 clearance for "Flat Head Machine Screw (82)" size "#10" standard "Ansi Unified Screw Threads"
equation "\"d50\" = d51"
equation "\"d61\" = d60"
equation "\"d63\" = d62"
equation "\"d64\" = d62"
equation "\"d65\" = d62"
equation "\"d66\" = d61"
equation "\"d67\" = d66"
equation "\"d76\" = d75"
equation "\"d78\" = d77"
equation "\"d79\" = d75"
equation "\"d80\" = d79"
equation "\"d81\" = d77"
equation "\"d82\" = d81"
equation "\"d83\" = d79"
equation "\"d84\" = d83"
equation "\"d85\" = d82"
equation "\"d86\" = d81"
equation "\"d104\" = d103"
properties part number "Drive Frame Rail" material "Aluminum 6061"
